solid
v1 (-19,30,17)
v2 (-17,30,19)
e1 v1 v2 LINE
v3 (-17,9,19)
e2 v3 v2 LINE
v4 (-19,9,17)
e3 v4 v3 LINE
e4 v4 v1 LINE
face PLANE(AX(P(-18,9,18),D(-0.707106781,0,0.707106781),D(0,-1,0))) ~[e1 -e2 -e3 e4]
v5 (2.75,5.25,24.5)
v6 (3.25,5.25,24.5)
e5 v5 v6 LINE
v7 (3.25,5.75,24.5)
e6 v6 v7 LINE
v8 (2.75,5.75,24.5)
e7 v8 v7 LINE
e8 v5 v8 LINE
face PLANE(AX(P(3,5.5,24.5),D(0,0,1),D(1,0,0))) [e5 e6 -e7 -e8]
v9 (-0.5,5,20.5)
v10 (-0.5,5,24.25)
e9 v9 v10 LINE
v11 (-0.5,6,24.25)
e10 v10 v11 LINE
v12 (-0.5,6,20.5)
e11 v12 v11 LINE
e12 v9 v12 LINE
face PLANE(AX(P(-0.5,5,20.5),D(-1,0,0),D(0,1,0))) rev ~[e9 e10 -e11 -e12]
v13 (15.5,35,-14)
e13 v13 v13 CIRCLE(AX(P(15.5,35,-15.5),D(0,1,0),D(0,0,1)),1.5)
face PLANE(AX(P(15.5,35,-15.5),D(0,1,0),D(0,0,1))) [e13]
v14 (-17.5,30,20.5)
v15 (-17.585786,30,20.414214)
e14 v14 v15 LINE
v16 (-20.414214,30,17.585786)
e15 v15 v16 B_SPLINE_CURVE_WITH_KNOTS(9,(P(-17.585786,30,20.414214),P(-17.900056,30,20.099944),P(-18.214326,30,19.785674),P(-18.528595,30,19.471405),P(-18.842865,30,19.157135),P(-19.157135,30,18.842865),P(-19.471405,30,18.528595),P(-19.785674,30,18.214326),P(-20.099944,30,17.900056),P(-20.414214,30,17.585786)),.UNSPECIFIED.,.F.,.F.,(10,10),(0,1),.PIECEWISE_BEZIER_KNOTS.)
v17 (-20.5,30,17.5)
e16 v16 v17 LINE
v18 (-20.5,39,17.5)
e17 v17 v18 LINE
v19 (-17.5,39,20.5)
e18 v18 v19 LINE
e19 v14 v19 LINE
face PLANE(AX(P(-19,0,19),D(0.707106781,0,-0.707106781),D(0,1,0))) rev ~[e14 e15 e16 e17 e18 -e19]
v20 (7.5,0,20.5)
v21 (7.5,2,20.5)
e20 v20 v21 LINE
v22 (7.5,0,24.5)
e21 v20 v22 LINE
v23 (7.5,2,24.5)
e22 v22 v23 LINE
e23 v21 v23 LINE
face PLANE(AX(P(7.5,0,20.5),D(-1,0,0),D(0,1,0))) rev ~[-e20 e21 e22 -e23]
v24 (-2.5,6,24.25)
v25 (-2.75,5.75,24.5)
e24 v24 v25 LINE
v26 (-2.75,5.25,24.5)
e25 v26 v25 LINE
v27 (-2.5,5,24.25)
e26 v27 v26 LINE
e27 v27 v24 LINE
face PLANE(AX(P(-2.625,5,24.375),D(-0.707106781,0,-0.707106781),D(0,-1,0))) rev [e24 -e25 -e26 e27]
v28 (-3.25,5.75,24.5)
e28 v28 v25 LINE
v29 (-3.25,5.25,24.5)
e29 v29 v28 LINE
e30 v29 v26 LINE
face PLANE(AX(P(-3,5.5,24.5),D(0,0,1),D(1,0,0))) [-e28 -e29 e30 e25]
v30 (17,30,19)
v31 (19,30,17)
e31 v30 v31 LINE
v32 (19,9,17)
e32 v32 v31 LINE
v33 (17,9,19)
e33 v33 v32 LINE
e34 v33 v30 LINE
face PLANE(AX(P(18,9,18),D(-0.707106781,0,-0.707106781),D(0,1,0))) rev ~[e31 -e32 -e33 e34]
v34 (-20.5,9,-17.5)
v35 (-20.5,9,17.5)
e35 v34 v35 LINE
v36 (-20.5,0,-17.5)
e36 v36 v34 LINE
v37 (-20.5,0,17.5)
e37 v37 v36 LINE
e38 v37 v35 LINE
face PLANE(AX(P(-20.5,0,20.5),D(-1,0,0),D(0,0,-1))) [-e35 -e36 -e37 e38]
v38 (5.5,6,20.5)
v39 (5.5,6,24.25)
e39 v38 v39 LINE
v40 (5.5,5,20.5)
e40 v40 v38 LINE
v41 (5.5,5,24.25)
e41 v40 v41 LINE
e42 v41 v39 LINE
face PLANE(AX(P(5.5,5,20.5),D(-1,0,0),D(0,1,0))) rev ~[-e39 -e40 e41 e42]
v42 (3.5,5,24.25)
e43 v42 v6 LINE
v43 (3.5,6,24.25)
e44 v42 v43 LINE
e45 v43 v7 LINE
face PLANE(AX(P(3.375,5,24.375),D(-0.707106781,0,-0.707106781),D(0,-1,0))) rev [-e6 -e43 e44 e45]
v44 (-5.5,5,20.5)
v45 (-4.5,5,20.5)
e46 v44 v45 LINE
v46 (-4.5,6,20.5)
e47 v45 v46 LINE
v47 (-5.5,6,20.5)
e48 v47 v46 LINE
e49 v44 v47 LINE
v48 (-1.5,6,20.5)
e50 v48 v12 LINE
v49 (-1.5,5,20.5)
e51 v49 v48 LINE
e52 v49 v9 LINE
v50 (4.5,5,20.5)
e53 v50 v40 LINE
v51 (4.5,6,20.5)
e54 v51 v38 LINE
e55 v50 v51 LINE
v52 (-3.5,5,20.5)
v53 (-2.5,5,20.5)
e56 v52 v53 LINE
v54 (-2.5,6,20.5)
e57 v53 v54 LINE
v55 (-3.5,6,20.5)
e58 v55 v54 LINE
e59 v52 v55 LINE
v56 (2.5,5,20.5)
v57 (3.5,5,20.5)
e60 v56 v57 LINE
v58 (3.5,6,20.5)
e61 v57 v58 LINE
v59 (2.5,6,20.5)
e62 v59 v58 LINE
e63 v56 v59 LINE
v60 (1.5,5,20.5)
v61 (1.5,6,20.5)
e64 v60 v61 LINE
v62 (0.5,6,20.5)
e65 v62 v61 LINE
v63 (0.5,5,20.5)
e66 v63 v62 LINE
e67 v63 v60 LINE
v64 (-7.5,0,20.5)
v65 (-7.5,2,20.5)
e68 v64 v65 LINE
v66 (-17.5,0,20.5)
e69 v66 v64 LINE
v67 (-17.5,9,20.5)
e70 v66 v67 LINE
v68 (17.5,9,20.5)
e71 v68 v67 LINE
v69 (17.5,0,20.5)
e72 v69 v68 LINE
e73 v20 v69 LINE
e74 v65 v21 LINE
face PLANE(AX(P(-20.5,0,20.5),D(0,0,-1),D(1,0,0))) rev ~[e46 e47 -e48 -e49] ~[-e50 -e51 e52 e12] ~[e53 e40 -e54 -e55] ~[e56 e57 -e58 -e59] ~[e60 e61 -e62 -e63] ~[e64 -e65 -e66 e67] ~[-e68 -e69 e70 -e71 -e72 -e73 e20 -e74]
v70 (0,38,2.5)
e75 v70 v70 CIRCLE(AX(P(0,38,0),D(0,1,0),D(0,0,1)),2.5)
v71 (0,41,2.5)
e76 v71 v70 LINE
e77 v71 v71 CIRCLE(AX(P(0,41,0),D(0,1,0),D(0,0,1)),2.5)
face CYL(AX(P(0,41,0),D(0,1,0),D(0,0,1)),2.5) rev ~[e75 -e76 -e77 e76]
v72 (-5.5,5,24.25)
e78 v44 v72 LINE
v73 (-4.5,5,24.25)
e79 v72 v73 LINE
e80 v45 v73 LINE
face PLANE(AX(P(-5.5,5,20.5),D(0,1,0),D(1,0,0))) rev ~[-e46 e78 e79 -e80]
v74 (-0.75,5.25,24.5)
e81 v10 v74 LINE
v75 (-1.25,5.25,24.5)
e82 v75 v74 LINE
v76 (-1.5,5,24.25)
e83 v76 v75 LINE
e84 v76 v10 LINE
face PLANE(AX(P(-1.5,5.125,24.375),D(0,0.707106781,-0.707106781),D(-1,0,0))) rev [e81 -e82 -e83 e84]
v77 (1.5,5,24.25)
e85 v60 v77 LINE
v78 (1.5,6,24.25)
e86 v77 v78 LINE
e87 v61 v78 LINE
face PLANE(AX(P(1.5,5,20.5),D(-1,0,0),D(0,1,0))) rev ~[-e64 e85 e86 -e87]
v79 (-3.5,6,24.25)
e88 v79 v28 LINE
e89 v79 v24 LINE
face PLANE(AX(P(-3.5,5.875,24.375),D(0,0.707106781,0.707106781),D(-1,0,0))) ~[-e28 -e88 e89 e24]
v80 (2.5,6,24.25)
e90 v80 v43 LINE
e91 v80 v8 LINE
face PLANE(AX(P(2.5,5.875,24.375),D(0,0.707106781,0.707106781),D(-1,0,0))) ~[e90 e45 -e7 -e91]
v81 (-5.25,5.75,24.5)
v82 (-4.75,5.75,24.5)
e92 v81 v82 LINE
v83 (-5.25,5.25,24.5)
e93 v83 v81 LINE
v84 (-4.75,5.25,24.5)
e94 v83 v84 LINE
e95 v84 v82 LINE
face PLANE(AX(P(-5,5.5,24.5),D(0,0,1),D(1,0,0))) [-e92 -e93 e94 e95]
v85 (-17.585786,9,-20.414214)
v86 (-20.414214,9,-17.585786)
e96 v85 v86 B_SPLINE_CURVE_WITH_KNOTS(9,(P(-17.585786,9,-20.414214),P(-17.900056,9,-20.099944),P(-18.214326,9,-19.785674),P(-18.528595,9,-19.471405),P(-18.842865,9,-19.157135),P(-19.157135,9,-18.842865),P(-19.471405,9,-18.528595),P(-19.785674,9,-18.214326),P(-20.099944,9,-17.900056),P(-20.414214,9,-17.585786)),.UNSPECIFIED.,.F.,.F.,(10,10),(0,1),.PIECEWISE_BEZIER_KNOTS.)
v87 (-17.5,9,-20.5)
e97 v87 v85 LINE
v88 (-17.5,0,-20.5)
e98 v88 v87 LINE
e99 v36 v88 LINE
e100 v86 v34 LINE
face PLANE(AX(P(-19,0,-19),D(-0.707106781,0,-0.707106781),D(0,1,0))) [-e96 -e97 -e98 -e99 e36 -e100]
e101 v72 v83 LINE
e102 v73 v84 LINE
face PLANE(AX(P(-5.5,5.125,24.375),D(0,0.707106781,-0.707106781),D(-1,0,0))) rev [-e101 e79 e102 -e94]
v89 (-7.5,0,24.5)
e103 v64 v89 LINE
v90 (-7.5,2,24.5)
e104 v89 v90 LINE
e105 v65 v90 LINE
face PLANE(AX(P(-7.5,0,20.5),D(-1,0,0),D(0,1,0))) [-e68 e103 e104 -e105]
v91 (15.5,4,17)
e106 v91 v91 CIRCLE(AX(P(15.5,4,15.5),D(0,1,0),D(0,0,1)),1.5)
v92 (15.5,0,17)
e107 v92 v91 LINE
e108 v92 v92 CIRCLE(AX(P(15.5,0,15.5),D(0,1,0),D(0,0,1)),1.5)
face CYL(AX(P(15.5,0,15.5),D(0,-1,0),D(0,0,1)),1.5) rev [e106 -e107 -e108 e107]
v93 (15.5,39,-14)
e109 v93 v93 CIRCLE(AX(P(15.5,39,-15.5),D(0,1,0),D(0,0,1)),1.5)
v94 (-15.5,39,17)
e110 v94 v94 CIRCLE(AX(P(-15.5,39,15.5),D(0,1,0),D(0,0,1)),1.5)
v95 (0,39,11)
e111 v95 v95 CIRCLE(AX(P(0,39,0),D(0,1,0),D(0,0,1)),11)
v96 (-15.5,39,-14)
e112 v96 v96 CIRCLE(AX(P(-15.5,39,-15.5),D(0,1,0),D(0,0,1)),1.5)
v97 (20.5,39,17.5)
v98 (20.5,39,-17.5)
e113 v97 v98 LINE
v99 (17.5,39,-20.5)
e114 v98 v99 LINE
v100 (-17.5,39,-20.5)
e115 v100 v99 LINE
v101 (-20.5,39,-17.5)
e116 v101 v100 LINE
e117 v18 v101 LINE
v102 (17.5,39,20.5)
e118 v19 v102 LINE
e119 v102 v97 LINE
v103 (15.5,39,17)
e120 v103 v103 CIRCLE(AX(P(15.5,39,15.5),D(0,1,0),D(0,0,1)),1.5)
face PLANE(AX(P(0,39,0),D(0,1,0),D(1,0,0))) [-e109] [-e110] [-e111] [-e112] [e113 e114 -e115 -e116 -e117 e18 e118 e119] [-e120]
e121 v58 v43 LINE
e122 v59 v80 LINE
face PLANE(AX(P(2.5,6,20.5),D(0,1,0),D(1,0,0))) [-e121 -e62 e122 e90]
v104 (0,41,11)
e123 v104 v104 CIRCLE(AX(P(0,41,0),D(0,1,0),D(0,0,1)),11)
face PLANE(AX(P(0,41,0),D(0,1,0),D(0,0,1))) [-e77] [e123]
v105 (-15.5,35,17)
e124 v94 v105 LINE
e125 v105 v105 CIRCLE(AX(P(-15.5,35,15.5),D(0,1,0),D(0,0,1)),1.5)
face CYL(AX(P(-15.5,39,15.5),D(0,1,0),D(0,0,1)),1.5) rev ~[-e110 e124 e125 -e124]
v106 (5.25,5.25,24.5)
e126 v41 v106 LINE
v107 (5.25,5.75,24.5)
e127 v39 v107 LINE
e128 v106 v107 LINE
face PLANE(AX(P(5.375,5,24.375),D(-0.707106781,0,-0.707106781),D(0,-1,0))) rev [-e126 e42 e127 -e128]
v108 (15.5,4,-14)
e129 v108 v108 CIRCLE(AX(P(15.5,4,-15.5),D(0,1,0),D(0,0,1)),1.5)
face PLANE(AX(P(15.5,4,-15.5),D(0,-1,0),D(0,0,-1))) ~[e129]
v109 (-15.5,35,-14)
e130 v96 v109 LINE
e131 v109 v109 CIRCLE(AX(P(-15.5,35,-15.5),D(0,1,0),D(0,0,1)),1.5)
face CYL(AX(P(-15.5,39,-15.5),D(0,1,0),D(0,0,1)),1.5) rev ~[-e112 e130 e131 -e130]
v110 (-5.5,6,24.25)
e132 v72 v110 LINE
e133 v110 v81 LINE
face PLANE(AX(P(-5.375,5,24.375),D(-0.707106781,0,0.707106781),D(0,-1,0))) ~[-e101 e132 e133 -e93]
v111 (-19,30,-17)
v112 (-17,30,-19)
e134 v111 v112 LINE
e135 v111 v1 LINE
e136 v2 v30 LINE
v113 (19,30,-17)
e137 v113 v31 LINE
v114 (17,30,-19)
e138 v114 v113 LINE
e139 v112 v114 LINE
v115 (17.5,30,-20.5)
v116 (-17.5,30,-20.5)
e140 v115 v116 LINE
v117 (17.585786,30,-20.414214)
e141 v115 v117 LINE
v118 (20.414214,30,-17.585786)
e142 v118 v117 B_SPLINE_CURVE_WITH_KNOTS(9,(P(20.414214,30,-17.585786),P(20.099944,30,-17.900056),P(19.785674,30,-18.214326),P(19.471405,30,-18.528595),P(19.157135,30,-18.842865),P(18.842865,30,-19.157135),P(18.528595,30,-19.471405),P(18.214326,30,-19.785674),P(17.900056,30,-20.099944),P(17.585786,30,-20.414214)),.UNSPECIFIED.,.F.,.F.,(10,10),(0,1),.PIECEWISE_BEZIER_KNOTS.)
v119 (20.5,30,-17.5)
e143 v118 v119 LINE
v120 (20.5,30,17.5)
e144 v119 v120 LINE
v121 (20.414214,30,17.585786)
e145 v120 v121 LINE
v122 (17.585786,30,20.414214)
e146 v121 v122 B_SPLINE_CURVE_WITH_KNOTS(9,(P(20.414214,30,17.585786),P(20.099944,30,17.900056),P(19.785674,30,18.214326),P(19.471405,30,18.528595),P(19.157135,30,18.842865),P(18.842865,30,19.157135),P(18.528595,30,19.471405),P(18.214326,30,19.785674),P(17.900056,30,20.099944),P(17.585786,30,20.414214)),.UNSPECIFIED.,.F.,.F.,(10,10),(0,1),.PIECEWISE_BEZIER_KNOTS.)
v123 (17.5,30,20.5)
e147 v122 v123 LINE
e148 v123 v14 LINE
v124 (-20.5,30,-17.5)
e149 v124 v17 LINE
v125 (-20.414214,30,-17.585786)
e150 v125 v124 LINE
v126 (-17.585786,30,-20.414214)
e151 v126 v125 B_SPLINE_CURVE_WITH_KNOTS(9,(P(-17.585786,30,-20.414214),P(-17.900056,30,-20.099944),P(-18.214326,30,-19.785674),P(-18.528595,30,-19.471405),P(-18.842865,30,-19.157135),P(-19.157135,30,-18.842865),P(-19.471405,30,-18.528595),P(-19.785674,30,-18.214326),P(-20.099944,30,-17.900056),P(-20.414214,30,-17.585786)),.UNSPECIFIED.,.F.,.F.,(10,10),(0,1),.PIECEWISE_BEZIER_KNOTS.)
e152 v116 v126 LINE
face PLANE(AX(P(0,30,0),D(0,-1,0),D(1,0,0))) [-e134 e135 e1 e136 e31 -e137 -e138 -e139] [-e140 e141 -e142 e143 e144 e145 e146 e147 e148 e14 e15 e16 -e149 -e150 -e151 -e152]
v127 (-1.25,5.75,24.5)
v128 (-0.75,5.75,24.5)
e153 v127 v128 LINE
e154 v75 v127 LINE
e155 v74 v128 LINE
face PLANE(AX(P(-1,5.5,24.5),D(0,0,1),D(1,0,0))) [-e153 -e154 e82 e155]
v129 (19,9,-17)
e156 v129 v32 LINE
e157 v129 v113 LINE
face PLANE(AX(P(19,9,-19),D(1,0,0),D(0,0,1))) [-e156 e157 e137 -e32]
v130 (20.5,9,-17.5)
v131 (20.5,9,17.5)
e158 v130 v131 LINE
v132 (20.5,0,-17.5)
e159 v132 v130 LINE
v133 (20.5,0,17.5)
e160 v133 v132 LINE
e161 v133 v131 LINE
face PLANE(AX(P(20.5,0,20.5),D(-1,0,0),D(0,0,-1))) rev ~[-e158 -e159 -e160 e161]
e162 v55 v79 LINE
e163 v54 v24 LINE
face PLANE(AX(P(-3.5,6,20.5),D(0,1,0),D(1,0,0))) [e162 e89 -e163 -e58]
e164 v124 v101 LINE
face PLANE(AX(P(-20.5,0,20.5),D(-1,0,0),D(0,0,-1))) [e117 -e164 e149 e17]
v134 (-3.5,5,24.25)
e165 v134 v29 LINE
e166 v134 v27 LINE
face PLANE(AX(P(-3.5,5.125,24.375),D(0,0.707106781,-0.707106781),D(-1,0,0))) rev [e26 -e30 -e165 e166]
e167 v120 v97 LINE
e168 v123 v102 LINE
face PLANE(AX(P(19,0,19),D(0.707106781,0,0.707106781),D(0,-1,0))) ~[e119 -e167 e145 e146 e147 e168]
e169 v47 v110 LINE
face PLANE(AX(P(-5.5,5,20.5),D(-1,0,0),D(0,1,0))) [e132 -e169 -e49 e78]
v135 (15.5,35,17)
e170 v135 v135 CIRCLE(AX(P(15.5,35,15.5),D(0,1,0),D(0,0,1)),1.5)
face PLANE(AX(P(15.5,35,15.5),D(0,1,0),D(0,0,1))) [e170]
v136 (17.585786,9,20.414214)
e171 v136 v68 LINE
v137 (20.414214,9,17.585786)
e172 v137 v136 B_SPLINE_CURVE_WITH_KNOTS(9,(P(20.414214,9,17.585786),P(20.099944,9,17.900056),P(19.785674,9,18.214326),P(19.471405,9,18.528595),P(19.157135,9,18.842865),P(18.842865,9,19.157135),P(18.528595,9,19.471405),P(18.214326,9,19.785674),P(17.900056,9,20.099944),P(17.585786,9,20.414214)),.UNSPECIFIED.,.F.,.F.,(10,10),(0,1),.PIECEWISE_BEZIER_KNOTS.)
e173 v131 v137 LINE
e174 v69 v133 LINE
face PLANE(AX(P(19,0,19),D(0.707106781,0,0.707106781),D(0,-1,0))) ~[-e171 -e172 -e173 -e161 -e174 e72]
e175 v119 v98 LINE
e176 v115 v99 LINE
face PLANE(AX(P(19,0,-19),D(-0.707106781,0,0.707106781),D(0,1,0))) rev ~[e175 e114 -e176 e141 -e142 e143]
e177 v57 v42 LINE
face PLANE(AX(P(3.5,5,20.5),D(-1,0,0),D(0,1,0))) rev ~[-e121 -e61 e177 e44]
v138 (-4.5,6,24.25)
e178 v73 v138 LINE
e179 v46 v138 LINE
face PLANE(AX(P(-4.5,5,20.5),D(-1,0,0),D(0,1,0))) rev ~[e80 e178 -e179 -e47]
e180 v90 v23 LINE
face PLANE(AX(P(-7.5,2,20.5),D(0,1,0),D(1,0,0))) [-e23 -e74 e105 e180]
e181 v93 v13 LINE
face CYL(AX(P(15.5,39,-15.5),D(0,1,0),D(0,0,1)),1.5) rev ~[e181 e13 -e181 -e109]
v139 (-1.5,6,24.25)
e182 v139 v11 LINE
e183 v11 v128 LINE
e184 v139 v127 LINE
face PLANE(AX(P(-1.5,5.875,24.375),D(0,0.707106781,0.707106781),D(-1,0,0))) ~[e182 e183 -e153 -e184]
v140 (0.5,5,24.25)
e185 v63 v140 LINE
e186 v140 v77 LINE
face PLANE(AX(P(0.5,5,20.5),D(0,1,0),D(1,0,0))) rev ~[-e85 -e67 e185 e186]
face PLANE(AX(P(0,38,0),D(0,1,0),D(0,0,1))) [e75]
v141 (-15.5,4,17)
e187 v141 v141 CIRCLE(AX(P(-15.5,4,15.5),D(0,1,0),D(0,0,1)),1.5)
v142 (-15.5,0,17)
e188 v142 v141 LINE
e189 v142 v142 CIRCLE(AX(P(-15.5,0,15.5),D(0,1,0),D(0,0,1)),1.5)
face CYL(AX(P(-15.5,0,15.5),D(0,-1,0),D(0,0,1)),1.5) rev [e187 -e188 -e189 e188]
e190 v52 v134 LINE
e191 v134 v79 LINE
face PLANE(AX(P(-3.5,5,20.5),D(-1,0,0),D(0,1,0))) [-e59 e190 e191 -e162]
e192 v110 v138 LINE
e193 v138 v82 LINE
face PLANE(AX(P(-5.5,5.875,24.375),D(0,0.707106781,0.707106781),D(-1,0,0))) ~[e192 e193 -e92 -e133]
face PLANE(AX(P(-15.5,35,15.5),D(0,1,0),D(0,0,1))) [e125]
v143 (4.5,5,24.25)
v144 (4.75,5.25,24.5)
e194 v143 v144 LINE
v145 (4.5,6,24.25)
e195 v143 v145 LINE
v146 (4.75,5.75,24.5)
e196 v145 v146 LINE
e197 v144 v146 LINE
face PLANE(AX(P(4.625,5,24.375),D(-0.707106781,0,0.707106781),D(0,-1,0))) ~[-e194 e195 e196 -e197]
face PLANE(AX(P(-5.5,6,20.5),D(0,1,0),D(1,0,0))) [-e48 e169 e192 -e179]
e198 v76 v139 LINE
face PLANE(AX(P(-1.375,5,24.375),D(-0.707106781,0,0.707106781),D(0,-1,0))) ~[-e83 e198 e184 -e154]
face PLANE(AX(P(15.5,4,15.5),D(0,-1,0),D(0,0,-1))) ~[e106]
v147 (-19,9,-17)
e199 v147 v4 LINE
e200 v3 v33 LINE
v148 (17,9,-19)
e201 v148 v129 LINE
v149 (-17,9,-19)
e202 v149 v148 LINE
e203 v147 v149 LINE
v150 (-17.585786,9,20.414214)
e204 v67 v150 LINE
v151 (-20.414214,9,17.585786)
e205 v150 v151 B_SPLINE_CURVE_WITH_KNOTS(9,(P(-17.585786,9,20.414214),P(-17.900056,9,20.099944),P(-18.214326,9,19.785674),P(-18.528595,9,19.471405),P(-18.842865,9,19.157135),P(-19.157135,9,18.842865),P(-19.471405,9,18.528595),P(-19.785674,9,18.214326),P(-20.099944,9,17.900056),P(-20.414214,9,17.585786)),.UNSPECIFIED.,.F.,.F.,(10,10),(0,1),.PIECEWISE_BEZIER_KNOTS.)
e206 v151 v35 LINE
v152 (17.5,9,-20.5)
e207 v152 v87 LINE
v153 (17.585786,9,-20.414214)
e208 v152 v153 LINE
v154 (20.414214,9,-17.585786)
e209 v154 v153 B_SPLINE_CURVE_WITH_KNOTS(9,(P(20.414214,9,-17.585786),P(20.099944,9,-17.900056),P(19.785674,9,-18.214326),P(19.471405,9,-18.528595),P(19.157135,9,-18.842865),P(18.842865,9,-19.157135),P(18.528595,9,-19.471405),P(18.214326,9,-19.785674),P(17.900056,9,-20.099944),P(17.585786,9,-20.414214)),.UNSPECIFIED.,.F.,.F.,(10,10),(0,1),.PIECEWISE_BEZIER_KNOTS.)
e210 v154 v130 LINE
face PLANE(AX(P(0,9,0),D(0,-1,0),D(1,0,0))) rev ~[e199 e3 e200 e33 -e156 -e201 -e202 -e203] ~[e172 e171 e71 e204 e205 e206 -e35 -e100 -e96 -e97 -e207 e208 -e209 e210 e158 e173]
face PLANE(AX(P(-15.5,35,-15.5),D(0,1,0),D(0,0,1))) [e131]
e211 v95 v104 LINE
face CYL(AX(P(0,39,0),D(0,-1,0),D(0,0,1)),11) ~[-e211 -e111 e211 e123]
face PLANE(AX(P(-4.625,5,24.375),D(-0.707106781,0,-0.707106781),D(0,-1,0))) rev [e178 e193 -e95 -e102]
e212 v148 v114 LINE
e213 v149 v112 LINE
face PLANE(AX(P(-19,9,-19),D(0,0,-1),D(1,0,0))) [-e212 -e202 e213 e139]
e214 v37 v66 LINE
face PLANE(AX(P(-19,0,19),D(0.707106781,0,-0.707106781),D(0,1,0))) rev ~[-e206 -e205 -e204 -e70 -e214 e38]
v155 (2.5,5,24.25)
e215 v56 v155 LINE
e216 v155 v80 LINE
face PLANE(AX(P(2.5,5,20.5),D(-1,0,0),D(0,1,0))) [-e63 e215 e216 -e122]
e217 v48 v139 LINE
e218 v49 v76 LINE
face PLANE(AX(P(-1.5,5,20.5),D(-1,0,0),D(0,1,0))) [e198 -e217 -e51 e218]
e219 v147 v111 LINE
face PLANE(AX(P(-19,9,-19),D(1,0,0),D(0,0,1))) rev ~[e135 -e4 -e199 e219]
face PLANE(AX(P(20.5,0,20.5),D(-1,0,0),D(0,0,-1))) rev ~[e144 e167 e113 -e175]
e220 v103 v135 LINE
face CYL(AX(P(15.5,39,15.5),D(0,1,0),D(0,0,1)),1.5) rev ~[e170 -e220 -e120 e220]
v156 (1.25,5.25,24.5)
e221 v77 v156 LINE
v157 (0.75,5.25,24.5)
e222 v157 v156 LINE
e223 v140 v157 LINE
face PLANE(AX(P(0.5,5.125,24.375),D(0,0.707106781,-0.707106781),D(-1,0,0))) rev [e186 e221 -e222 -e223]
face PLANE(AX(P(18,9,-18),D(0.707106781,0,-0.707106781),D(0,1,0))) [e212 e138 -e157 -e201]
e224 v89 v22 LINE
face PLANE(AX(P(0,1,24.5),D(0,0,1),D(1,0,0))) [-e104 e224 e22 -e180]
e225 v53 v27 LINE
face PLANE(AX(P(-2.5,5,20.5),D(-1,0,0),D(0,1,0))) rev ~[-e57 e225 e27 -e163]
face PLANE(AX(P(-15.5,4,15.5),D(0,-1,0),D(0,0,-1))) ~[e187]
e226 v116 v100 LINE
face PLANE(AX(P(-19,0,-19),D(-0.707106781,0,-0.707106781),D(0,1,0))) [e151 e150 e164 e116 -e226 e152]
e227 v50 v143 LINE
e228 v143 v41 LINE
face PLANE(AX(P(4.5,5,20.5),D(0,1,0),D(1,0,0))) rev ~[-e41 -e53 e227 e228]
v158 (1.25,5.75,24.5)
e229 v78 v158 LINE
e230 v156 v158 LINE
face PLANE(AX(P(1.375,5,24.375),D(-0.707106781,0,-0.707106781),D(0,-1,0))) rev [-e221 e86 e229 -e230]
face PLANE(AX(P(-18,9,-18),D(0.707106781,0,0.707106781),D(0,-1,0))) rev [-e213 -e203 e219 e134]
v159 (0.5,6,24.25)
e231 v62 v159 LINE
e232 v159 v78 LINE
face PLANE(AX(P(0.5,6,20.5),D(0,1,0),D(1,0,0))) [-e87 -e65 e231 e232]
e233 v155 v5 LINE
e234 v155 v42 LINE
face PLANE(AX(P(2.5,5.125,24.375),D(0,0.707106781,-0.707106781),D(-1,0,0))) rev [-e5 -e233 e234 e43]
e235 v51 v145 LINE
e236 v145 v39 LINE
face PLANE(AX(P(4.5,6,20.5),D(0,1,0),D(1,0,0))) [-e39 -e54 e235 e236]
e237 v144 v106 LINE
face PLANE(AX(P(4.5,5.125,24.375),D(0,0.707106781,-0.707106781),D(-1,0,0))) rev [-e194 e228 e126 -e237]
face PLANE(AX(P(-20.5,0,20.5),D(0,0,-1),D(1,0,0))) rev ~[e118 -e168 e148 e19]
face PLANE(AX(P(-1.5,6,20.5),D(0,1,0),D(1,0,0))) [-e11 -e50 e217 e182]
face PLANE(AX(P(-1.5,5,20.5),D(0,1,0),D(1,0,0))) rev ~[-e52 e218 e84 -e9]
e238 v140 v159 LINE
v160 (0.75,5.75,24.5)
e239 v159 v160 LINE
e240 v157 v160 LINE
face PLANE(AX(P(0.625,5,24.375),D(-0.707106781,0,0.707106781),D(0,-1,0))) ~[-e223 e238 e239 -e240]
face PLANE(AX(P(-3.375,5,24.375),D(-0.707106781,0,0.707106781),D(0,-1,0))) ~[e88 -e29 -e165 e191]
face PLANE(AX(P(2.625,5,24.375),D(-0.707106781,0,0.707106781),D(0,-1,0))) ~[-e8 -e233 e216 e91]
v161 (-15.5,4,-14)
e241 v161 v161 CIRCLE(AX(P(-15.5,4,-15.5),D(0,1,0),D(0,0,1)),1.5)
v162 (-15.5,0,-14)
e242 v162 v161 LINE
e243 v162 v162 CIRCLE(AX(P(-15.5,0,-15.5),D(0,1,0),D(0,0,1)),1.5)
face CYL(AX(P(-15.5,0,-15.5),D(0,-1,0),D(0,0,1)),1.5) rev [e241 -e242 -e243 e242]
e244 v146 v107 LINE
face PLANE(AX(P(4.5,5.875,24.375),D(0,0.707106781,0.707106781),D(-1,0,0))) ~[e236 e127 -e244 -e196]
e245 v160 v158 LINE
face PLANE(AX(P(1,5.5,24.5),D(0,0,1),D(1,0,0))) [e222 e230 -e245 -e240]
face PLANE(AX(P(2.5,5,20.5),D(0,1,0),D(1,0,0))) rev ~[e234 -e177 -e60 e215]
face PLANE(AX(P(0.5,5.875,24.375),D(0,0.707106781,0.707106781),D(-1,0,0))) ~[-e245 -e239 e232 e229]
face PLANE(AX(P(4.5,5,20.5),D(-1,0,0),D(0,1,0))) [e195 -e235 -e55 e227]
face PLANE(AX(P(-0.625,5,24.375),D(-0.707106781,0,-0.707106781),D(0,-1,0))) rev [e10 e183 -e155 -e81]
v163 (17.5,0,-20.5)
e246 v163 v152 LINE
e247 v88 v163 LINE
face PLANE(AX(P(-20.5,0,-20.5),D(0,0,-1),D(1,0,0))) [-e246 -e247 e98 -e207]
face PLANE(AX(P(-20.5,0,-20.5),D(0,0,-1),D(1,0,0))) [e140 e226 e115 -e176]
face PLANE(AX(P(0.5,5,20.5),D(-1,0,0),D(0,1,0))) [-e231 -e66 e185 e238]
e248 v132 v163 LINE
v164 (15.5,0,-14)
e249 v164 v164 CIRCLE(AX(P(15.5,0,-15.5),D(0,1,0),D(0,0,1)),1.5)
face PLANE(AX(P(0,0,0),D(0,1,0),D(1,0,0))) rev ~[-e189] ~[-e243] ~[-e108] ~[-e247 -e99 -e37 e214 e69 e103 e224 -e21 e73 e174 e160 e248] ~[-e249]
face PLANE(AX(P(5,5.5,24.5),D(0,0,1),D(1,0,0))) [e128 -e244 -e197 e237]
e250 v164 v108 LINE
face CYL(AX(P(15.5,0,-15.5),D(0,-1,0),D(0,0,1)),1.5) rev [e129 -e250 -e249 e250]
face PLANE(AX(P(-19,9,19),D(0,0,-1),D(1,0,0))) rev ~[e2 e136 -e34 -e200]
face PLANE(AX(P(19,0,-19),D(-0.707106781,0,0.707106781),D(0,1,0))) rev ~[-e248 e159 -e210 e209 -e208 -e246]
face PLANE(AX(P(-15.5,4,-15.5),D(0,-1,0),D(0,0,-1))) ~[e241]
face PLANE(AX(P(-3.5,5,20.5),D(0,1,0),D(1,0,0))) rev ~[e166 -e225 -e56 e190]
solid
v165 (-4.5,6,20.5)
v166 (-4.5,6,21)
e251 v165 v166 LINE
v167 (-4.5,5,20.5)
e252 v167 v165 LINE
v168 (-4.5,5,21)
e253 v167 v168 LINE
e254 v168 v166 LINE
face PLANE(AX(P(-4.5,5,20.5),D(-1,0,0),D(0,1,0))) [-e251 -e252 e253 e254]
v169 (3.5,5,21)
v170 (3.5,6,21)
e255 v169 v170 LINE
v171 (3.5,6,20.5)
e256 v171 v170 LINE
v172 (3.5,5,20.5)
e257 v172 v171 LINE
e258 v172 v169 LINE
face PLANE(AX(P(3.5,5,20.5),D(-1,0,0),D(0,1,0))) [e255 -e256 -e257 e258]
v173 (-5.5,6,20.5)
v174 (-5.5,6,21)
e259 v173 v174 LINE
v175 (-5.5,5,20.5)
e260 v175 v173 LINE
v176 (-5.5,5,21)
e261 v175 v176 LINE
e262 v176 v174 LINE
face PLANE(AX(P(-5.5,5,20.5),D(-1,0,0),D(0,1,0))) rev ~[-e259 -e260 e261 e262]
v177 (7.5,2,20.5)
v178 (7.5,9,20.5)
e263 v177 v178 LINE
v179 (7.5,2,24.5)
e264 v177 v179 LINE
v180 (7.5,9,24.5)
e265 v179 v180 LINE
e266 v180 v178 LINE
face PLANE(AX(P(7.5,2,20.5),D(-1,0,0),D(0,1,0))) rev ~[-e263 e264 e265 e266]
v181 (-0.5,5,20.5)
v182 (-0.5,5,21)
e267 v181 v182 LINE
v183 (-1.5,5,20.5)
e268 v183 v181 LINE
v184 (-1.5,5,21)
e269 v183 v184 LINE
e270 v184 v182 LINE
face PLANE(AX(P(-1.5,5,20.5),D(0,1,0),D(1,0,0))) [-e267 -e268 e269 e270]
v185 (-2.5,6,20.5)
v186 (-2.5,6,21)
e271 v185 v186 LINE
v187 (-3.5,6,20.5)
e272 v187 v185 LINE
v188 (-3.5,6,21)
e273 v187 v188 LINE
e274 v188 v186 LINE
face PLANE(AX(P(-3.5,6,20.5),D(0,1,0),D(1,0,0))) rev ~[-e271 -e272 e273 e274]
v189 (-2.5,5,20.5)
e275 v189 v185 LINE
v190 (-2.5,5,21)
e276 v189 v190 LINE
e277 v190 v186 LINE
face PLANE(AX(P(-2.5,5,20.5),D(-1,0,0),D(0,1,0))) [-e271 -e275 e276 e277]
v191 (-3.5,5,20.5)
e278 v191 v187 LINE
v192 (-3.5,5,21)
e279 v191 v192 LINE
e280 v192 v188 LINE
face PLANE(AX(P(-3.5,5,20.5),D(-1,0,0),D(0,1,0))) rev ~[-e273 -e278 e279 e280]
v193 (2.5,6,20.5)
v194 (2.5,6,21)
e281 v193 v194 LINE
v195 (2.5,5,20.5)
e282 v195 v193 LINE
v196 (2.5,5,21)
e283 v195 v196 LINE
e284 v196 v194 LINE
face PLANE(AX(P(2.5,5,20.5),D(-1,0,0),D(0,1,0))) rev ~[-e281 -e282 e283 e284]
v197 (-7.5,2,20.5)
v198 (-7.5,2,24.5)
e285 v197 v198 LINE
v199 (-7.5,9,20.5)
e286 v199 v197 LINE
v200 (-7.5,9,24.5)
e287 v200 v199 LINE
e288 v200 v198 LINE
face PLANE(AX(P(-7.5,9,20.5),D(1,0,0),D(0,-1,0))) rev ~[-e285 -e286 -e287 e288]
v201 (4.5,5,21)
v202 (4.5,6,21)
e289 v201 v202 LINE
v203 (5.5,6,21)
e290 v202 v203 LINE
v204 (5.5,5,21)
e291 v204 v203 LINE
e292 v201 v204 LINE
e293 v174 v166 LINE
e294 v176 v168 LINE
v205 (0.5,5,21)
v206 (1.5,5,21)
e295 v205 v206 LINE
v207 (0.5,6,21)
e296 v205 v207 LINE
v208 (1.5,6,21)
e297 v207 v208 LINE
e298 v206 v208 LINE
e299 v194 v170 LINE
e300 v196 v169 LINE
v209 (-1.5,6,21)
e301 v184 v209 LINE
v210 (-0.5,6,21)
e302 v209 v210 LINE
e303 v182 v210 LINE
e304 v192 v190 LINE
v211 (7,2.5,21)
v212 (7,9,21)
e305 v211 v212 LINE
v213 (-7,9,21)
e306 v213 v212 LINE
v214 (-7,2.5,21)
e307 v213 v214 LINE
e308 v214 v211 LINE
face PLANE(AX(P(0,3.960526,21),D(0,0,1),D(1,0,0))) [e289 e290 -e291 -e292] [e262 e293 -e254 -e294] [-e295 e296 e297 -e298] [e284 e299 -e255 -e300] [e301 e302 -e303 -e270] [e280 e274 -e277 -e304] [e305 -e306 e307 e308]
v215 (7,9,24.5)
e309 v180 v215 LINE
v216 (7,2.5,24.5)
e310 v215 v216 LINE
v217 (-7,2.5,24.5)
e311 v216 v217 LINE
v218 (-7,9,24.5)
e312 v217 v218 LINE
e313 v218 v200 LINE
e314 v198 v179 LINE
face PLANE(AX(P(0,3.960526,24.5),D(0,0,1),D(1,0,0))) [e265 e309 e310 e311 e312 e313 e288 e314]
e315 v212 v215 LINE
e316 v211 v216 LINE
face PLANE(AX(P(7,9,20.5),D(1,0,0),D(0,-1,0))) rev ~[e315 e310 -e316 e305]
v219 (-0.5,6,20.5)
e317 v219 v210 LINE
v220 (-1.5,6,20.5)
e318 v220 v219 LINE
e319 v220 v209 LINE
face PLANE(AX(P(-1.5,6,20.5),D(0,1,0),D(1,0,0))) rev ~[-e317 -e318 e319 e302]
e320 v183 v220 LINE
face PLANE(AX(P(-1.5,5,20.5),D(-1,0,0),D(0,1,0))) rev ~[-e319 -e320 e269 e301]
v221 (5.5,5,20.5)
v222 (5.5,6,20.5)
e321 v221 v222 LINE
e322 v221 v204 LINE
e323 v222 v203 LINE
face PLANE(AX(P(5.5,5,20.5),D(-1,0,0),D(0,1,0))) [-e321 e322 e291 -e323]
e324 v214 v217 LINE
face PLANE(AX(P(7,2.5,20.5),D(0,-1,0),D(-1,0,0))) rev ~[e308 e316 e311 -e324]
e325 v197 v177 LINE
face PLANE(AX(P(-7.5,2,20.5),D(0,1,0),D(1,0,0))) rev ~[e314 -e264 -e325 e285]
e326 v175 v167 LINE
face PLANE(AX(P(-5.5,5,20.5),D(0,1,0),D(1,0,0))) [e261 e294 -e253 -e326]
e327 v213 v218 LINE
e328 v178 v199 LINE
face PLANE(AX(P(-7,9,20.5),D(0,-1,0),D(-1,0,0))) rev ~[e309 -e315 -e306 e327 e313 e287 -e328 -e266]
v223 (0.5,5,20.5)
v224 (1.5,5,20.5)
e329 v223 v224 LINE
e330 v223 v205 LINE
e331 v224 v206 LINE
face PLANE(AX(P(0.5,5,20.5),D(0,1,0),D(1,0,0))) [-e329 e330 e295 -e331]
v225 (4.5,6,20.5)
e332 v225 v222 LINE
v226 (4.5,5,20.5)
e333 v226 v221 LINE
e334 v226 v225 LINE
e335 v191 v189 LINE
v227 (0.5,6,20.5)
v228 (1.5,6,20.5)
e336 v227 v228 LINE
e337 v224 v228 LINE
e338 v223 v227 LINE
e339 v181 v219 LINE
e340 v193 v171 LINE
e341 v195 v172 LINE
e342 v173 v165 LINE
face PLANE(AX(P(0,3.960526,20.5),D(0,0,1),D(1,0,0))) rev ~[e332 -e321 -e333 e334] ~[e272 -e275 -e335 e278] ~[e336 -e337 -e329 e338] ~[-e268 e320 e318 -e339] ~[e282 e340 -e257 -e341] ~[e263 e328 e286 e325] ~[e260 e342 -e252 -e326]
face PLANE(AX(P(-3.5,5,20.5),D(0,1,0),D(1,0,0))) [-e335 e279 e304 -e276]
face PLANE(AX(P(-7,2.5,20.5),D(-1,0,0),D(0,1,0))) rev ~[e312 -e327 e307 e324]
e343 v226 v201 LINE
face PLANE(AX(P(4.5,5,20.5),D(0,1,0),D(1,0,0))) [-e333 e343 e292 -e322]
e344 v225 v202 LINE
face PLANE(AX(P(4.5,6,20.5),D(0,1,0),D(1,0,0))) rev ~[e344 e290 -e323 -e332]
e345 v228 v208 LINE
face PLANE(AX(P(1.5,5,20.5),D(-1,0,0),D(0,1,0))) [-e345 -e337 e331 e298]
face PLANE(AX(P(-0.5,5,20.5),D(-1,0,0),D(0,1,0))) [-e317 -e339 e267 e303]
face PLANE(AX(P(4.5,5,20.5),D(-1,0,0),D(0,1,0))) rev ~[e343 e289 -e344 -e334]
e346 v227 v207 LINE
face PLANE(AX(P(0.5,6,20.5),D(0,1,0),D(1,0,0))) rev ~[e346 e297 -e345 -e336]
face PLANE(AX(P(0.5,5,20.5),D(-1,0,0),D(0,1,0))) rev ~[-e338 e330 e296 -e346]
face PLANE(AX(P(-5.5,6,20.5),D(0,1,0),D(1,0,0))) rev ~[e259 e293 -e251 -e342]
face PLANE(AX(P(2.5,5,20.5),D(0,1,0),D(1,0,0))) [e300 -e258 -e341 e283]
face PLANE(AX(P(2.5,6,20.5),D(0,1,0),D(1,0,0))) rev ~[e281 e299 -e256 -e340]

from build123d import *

# Parameters (mm, degrees)
SKETCH2_W           = 41
SKETCH2_H           = 41
BOSS_EXTRUDE1_DEPTH = 39
CHAMFER1_SIZE       = 3
SKETCH3_R           = 1.5
CUT_EXTRUDE1_DEPTH  = 4
SKETCH4_R           = 11
BOSS_EXTRUDE2_DEPTH = 2
CUT_EXTRUDE3_START  = -9
SKETCH7_OUTSIDE_W   = 57.202
SKETCH7_OUTSIDE_H   = 57.202
SKETCH7_OUTSIDE_W_2 = 38
SKETCH7_OUTSIDE_H_2 = 38
CUT_EXTRUDE3_DEPTH  = 21
CHAMFER5_SIZE       = 2
SKETCH5_R           = 2.5
CUT_EXTRUDE4_DEPTH  = 3
SKETCH8_W           = 15
SKETCH8_H           = 2
BOSS_EXTRUDE3_DEPTH = 4
SKETCH8_4_W         = 15
SKETCH8_4_H         = 7
SKETCH8_4_W_2       = 1
SKETCH8_4_H_2       = 1
BOSS_EXTRUDE4_DEPTH = 0.5
BOSS_EXTRUDE5_DEPTH = 4
SKETCH8_6_W         = 1
SKETCH8_6_H         = 1
BOSS_EXTRUDE6_DEPTH = 4
CHAMFER6_SIZE       = 0.25


with BuildPart() as part:
    # Sketch2 → Boss-Extrude1 (new body)
    with BuildSketch(Plane(origin=(0, 0, 0), x_dir=(1, 0, 0), z_dir=(0, 1, 0))):
        Rectangle(SKETCH2_W, SKETCH2_H)
    extrude(amount=BOSS_EXTRUDE1_DEPTH)

    # Chamfer1
    chamfer1_edges = [part.edges().sort_by_distance(p)[0] for p in [
        (20.5, 19.5, 20.5),
        (-20.5, 19.5, 20.5),
        (-20.5, 19.5, -20.5),
        (20.5, 19.5, -20.5),
    ]]
    chamfer(chamfer1_edges, length=CHAMFER1_SIZE)

    # Sketch3 → Cut-Extrude1 (cut)
    with BuildSketch(Plane(origin=(0, 39, 0), x_dir=(1, 0, 0), z_dir=(0, 1, 0))):
        with Locations((-15.5, -15.5)):
            Circle(SKETCH3_R)
        with Locations((15.5, -15.5)):
            Circle(SKETCH3_R)
        with Locations((-15.5, 15.5)):
            Circle(SKETCH3_R)
        with Locations((15.5, 15.5)):
            Circle(SKETCH3_R)
    cut_extrude1 = extrude(amount=-CUT_EXTRUDE1_DEPTH, mode=Mode.SUBTRACT)

    # Mirror1: Cut-Extrude1 across plane
    add(cut_extrude1.mirror(Plane(origin=(0, 19.5, 0), x_dir=(0, 0, 1), z_dir=(0, -1, 0))), mode=Mode.SUBTRACT)

    # Sketch4 → Boss-Extrude2 (add)
    with BuildSketch(Plane(origin=(0, 39, 0), x_dir=(1, 0, 0), z_dir=(0, 1, 0))):
        Circle(SKETCH4_R)
    extrude(amount=BOSS_EXTRUDE2_DEPTH)

    # Sketch7 outside → Cut-Extrude3 (cut)
    with BuildSketch(Plane.XZ.offset(CUT_EXTRUDE3_START)):
        Rectangle(SKETCH7_OUTSIDE_W, SKETCH7_OUTSIDE_H)
        Rectangle(SKETCH7_OUTSIDE_W_2, SKETCH7_OUTSIDE_H_2, mode=Mode.SUBTRACT)
    extrude(amount=-CUT_EXTRUDE3_DEPTH, mode=Mode.SUBTRACT)

    # Chamfer5
    chamfer5_edges = [part.edges().sort_by_distance(p)[0] for p in [
        (-19, 19.5, 19),
        (-19, 19.5, -19),
        (19, 19.5, -19),
        (19, 19.5, 19),
    ]]
    chamfer(chamfer5_edges, length=CHAMFER5_SIZE)

    # Sketch5 → Cut-Extrude4 (cut)
    with BuildSketch(Plane(origin=(0, 41, 0), x_dir=(1, 0, 0), z_dir=(0, 1, 0))):
        Circle(SKETCH5_R)
    extrude(amount=-CUT_EXTRUDE4_DEPTH, mode=Mode.SUBTRACT)

    # Sketch8 → Boss-Extrude3 (add)
    with BuildSketch(Plane.XY.offset(20.5)):
        with Locations((0, 1)):
            Rectangle(SKETCH8_W, SKETCH8_H)
    extrude(amount=BOSS_EXTRUDE3_DEPTH)

    # Sketch8<6> → Boss-Extrude6 (add)
    with BuildSketch(Plane.XY.offset(20.5)):
        with Locations((3, 5.5)):
            Rectangle(SKETCH8_6_W, SKETCH8_6_H)
        with Locations((5, 5.5)):
            Rectangle(SKETCH8_6_W, SKETCH8_6_H)
        with Locations((1, 5.5)):
            Rectangle(SKETCH8_6_W, SKETCH8_6_H)
        with Locations((-1, 5.5)):
            Rectangle(SKETCH8_6_W, SKETCH8_6_H)
        with Locations((-3, 5.5)):
            Rectangle(SKETCH8_6_W, SKETCH8_6_H)
        with Locations((-5, 5.5)):
            Rectangle(SKETCH8_6_W, SKETCH8_6_H)
    extrude(amount=BOSS_EXTRUDE6_DEPTH)

    # Chamfer6
    chamfer6_edges = [part.edges().sort_by_distance(p)[0] for p in [
        (4.5, 5.5, 24.5),
        (5, 6, 24.5),
        (5.5, 5.5, 24.5),
        (5, 5, 24.5),
        (3.5, 5.5, 24.5),
        (3, 5, 24.5),
        (2.5, 5.5, 24.5),
        (3, 6, 24.5),
        (1.5, 5.5, 24.5),
        (1, 5, 24.5),
        (0.5, 5.5, 24.5),
        (1, 6, 24.5),
        (-0.5, 5.5, 24.5),
        (-1, 5, 24.5),
        (-1.5, 5.5, 24.5),
        (-1, 6, 24.5),
        (-2.5, 5.5, 24.5),
        (-3, 5, 24.5),
        (-3.5, 5.5, 24.5),
        (-3, 6, 24.5),
        (-4.5, 5.5, 24.5),
        (-5, 5, 24.5),
        (-5.5, 5.5, 24.5),
        (-5, 6, 24.5),
    ]]
    chamfer(chamfer6_edges, length=CHAMFER6_SIZE)


with BuildPart() as body_2:
    # Sketch8<4> → Boss-Extrude4 (new body)
    with BuildSketch(Plane.XY.offset(20.5)):
        with Locations((0, 5.5)):
            Rectangle(SKETCH8_4_W, SKETCH8_4_H)
        with Locations((3, 5.5)):
            Rectangle(SKETCH8_4_W_2, SKETCH8_4_H_2, mode=Mode.SUBTRACT)
        with Locations((5, 5.5)):
            Rectangle(SKETCH8_4_W_2, SKETCH8_4_H_2, mode=Mode.SUBTRACT)
        with Locations((-5, 5.5)):
            Rectangle(SKETCH8_4_W_2, SKETCH8_4_H_2, mode=Mode.SUBTRACT)
        with Locations((-3, 5.5)):
            Rectangle(SKETCH8_4_W_2, SKETCH8_4_H_2, mode=Mode.SUBTRACT)
        with Locations((-1, 5.5)):
            Rectangle(SKETCH8_4_W_2, SKETCH8_4_H_2, mode=Mode.SUBTRACT)
        with Locations((1, 5.5)):
            Rectangle(SKETCH8_4_W_2, SKETCH8_4_H_2, mode=Mode.SUBTRACT)
    extrude(amount=BOSS_EXTRUDE4_DEPTH)


with BuildPart() as body_3:
    # Sketch8<5> → Boss-Extrude5 (new body)
    with BuildSketch(Plane.XY.offset(20.5)):
        Polygon((-7.5, 9), (-7.5, 2), (7.5, 2), (7.5, 9), (7, 9), (7, 8.5), (7, 2.5), (-7, 2.5), (-7, 8.5), (-7, 9), align=None)
    extrude(amount=BOSS_EXTRUDE5_DEPTH)


with BuildPart() as body_2_1:
    add(body_2.part)

    # Combine1: union body 3
    add(body_3.part)


solid = Compound([part.part, body_2_1.part])
